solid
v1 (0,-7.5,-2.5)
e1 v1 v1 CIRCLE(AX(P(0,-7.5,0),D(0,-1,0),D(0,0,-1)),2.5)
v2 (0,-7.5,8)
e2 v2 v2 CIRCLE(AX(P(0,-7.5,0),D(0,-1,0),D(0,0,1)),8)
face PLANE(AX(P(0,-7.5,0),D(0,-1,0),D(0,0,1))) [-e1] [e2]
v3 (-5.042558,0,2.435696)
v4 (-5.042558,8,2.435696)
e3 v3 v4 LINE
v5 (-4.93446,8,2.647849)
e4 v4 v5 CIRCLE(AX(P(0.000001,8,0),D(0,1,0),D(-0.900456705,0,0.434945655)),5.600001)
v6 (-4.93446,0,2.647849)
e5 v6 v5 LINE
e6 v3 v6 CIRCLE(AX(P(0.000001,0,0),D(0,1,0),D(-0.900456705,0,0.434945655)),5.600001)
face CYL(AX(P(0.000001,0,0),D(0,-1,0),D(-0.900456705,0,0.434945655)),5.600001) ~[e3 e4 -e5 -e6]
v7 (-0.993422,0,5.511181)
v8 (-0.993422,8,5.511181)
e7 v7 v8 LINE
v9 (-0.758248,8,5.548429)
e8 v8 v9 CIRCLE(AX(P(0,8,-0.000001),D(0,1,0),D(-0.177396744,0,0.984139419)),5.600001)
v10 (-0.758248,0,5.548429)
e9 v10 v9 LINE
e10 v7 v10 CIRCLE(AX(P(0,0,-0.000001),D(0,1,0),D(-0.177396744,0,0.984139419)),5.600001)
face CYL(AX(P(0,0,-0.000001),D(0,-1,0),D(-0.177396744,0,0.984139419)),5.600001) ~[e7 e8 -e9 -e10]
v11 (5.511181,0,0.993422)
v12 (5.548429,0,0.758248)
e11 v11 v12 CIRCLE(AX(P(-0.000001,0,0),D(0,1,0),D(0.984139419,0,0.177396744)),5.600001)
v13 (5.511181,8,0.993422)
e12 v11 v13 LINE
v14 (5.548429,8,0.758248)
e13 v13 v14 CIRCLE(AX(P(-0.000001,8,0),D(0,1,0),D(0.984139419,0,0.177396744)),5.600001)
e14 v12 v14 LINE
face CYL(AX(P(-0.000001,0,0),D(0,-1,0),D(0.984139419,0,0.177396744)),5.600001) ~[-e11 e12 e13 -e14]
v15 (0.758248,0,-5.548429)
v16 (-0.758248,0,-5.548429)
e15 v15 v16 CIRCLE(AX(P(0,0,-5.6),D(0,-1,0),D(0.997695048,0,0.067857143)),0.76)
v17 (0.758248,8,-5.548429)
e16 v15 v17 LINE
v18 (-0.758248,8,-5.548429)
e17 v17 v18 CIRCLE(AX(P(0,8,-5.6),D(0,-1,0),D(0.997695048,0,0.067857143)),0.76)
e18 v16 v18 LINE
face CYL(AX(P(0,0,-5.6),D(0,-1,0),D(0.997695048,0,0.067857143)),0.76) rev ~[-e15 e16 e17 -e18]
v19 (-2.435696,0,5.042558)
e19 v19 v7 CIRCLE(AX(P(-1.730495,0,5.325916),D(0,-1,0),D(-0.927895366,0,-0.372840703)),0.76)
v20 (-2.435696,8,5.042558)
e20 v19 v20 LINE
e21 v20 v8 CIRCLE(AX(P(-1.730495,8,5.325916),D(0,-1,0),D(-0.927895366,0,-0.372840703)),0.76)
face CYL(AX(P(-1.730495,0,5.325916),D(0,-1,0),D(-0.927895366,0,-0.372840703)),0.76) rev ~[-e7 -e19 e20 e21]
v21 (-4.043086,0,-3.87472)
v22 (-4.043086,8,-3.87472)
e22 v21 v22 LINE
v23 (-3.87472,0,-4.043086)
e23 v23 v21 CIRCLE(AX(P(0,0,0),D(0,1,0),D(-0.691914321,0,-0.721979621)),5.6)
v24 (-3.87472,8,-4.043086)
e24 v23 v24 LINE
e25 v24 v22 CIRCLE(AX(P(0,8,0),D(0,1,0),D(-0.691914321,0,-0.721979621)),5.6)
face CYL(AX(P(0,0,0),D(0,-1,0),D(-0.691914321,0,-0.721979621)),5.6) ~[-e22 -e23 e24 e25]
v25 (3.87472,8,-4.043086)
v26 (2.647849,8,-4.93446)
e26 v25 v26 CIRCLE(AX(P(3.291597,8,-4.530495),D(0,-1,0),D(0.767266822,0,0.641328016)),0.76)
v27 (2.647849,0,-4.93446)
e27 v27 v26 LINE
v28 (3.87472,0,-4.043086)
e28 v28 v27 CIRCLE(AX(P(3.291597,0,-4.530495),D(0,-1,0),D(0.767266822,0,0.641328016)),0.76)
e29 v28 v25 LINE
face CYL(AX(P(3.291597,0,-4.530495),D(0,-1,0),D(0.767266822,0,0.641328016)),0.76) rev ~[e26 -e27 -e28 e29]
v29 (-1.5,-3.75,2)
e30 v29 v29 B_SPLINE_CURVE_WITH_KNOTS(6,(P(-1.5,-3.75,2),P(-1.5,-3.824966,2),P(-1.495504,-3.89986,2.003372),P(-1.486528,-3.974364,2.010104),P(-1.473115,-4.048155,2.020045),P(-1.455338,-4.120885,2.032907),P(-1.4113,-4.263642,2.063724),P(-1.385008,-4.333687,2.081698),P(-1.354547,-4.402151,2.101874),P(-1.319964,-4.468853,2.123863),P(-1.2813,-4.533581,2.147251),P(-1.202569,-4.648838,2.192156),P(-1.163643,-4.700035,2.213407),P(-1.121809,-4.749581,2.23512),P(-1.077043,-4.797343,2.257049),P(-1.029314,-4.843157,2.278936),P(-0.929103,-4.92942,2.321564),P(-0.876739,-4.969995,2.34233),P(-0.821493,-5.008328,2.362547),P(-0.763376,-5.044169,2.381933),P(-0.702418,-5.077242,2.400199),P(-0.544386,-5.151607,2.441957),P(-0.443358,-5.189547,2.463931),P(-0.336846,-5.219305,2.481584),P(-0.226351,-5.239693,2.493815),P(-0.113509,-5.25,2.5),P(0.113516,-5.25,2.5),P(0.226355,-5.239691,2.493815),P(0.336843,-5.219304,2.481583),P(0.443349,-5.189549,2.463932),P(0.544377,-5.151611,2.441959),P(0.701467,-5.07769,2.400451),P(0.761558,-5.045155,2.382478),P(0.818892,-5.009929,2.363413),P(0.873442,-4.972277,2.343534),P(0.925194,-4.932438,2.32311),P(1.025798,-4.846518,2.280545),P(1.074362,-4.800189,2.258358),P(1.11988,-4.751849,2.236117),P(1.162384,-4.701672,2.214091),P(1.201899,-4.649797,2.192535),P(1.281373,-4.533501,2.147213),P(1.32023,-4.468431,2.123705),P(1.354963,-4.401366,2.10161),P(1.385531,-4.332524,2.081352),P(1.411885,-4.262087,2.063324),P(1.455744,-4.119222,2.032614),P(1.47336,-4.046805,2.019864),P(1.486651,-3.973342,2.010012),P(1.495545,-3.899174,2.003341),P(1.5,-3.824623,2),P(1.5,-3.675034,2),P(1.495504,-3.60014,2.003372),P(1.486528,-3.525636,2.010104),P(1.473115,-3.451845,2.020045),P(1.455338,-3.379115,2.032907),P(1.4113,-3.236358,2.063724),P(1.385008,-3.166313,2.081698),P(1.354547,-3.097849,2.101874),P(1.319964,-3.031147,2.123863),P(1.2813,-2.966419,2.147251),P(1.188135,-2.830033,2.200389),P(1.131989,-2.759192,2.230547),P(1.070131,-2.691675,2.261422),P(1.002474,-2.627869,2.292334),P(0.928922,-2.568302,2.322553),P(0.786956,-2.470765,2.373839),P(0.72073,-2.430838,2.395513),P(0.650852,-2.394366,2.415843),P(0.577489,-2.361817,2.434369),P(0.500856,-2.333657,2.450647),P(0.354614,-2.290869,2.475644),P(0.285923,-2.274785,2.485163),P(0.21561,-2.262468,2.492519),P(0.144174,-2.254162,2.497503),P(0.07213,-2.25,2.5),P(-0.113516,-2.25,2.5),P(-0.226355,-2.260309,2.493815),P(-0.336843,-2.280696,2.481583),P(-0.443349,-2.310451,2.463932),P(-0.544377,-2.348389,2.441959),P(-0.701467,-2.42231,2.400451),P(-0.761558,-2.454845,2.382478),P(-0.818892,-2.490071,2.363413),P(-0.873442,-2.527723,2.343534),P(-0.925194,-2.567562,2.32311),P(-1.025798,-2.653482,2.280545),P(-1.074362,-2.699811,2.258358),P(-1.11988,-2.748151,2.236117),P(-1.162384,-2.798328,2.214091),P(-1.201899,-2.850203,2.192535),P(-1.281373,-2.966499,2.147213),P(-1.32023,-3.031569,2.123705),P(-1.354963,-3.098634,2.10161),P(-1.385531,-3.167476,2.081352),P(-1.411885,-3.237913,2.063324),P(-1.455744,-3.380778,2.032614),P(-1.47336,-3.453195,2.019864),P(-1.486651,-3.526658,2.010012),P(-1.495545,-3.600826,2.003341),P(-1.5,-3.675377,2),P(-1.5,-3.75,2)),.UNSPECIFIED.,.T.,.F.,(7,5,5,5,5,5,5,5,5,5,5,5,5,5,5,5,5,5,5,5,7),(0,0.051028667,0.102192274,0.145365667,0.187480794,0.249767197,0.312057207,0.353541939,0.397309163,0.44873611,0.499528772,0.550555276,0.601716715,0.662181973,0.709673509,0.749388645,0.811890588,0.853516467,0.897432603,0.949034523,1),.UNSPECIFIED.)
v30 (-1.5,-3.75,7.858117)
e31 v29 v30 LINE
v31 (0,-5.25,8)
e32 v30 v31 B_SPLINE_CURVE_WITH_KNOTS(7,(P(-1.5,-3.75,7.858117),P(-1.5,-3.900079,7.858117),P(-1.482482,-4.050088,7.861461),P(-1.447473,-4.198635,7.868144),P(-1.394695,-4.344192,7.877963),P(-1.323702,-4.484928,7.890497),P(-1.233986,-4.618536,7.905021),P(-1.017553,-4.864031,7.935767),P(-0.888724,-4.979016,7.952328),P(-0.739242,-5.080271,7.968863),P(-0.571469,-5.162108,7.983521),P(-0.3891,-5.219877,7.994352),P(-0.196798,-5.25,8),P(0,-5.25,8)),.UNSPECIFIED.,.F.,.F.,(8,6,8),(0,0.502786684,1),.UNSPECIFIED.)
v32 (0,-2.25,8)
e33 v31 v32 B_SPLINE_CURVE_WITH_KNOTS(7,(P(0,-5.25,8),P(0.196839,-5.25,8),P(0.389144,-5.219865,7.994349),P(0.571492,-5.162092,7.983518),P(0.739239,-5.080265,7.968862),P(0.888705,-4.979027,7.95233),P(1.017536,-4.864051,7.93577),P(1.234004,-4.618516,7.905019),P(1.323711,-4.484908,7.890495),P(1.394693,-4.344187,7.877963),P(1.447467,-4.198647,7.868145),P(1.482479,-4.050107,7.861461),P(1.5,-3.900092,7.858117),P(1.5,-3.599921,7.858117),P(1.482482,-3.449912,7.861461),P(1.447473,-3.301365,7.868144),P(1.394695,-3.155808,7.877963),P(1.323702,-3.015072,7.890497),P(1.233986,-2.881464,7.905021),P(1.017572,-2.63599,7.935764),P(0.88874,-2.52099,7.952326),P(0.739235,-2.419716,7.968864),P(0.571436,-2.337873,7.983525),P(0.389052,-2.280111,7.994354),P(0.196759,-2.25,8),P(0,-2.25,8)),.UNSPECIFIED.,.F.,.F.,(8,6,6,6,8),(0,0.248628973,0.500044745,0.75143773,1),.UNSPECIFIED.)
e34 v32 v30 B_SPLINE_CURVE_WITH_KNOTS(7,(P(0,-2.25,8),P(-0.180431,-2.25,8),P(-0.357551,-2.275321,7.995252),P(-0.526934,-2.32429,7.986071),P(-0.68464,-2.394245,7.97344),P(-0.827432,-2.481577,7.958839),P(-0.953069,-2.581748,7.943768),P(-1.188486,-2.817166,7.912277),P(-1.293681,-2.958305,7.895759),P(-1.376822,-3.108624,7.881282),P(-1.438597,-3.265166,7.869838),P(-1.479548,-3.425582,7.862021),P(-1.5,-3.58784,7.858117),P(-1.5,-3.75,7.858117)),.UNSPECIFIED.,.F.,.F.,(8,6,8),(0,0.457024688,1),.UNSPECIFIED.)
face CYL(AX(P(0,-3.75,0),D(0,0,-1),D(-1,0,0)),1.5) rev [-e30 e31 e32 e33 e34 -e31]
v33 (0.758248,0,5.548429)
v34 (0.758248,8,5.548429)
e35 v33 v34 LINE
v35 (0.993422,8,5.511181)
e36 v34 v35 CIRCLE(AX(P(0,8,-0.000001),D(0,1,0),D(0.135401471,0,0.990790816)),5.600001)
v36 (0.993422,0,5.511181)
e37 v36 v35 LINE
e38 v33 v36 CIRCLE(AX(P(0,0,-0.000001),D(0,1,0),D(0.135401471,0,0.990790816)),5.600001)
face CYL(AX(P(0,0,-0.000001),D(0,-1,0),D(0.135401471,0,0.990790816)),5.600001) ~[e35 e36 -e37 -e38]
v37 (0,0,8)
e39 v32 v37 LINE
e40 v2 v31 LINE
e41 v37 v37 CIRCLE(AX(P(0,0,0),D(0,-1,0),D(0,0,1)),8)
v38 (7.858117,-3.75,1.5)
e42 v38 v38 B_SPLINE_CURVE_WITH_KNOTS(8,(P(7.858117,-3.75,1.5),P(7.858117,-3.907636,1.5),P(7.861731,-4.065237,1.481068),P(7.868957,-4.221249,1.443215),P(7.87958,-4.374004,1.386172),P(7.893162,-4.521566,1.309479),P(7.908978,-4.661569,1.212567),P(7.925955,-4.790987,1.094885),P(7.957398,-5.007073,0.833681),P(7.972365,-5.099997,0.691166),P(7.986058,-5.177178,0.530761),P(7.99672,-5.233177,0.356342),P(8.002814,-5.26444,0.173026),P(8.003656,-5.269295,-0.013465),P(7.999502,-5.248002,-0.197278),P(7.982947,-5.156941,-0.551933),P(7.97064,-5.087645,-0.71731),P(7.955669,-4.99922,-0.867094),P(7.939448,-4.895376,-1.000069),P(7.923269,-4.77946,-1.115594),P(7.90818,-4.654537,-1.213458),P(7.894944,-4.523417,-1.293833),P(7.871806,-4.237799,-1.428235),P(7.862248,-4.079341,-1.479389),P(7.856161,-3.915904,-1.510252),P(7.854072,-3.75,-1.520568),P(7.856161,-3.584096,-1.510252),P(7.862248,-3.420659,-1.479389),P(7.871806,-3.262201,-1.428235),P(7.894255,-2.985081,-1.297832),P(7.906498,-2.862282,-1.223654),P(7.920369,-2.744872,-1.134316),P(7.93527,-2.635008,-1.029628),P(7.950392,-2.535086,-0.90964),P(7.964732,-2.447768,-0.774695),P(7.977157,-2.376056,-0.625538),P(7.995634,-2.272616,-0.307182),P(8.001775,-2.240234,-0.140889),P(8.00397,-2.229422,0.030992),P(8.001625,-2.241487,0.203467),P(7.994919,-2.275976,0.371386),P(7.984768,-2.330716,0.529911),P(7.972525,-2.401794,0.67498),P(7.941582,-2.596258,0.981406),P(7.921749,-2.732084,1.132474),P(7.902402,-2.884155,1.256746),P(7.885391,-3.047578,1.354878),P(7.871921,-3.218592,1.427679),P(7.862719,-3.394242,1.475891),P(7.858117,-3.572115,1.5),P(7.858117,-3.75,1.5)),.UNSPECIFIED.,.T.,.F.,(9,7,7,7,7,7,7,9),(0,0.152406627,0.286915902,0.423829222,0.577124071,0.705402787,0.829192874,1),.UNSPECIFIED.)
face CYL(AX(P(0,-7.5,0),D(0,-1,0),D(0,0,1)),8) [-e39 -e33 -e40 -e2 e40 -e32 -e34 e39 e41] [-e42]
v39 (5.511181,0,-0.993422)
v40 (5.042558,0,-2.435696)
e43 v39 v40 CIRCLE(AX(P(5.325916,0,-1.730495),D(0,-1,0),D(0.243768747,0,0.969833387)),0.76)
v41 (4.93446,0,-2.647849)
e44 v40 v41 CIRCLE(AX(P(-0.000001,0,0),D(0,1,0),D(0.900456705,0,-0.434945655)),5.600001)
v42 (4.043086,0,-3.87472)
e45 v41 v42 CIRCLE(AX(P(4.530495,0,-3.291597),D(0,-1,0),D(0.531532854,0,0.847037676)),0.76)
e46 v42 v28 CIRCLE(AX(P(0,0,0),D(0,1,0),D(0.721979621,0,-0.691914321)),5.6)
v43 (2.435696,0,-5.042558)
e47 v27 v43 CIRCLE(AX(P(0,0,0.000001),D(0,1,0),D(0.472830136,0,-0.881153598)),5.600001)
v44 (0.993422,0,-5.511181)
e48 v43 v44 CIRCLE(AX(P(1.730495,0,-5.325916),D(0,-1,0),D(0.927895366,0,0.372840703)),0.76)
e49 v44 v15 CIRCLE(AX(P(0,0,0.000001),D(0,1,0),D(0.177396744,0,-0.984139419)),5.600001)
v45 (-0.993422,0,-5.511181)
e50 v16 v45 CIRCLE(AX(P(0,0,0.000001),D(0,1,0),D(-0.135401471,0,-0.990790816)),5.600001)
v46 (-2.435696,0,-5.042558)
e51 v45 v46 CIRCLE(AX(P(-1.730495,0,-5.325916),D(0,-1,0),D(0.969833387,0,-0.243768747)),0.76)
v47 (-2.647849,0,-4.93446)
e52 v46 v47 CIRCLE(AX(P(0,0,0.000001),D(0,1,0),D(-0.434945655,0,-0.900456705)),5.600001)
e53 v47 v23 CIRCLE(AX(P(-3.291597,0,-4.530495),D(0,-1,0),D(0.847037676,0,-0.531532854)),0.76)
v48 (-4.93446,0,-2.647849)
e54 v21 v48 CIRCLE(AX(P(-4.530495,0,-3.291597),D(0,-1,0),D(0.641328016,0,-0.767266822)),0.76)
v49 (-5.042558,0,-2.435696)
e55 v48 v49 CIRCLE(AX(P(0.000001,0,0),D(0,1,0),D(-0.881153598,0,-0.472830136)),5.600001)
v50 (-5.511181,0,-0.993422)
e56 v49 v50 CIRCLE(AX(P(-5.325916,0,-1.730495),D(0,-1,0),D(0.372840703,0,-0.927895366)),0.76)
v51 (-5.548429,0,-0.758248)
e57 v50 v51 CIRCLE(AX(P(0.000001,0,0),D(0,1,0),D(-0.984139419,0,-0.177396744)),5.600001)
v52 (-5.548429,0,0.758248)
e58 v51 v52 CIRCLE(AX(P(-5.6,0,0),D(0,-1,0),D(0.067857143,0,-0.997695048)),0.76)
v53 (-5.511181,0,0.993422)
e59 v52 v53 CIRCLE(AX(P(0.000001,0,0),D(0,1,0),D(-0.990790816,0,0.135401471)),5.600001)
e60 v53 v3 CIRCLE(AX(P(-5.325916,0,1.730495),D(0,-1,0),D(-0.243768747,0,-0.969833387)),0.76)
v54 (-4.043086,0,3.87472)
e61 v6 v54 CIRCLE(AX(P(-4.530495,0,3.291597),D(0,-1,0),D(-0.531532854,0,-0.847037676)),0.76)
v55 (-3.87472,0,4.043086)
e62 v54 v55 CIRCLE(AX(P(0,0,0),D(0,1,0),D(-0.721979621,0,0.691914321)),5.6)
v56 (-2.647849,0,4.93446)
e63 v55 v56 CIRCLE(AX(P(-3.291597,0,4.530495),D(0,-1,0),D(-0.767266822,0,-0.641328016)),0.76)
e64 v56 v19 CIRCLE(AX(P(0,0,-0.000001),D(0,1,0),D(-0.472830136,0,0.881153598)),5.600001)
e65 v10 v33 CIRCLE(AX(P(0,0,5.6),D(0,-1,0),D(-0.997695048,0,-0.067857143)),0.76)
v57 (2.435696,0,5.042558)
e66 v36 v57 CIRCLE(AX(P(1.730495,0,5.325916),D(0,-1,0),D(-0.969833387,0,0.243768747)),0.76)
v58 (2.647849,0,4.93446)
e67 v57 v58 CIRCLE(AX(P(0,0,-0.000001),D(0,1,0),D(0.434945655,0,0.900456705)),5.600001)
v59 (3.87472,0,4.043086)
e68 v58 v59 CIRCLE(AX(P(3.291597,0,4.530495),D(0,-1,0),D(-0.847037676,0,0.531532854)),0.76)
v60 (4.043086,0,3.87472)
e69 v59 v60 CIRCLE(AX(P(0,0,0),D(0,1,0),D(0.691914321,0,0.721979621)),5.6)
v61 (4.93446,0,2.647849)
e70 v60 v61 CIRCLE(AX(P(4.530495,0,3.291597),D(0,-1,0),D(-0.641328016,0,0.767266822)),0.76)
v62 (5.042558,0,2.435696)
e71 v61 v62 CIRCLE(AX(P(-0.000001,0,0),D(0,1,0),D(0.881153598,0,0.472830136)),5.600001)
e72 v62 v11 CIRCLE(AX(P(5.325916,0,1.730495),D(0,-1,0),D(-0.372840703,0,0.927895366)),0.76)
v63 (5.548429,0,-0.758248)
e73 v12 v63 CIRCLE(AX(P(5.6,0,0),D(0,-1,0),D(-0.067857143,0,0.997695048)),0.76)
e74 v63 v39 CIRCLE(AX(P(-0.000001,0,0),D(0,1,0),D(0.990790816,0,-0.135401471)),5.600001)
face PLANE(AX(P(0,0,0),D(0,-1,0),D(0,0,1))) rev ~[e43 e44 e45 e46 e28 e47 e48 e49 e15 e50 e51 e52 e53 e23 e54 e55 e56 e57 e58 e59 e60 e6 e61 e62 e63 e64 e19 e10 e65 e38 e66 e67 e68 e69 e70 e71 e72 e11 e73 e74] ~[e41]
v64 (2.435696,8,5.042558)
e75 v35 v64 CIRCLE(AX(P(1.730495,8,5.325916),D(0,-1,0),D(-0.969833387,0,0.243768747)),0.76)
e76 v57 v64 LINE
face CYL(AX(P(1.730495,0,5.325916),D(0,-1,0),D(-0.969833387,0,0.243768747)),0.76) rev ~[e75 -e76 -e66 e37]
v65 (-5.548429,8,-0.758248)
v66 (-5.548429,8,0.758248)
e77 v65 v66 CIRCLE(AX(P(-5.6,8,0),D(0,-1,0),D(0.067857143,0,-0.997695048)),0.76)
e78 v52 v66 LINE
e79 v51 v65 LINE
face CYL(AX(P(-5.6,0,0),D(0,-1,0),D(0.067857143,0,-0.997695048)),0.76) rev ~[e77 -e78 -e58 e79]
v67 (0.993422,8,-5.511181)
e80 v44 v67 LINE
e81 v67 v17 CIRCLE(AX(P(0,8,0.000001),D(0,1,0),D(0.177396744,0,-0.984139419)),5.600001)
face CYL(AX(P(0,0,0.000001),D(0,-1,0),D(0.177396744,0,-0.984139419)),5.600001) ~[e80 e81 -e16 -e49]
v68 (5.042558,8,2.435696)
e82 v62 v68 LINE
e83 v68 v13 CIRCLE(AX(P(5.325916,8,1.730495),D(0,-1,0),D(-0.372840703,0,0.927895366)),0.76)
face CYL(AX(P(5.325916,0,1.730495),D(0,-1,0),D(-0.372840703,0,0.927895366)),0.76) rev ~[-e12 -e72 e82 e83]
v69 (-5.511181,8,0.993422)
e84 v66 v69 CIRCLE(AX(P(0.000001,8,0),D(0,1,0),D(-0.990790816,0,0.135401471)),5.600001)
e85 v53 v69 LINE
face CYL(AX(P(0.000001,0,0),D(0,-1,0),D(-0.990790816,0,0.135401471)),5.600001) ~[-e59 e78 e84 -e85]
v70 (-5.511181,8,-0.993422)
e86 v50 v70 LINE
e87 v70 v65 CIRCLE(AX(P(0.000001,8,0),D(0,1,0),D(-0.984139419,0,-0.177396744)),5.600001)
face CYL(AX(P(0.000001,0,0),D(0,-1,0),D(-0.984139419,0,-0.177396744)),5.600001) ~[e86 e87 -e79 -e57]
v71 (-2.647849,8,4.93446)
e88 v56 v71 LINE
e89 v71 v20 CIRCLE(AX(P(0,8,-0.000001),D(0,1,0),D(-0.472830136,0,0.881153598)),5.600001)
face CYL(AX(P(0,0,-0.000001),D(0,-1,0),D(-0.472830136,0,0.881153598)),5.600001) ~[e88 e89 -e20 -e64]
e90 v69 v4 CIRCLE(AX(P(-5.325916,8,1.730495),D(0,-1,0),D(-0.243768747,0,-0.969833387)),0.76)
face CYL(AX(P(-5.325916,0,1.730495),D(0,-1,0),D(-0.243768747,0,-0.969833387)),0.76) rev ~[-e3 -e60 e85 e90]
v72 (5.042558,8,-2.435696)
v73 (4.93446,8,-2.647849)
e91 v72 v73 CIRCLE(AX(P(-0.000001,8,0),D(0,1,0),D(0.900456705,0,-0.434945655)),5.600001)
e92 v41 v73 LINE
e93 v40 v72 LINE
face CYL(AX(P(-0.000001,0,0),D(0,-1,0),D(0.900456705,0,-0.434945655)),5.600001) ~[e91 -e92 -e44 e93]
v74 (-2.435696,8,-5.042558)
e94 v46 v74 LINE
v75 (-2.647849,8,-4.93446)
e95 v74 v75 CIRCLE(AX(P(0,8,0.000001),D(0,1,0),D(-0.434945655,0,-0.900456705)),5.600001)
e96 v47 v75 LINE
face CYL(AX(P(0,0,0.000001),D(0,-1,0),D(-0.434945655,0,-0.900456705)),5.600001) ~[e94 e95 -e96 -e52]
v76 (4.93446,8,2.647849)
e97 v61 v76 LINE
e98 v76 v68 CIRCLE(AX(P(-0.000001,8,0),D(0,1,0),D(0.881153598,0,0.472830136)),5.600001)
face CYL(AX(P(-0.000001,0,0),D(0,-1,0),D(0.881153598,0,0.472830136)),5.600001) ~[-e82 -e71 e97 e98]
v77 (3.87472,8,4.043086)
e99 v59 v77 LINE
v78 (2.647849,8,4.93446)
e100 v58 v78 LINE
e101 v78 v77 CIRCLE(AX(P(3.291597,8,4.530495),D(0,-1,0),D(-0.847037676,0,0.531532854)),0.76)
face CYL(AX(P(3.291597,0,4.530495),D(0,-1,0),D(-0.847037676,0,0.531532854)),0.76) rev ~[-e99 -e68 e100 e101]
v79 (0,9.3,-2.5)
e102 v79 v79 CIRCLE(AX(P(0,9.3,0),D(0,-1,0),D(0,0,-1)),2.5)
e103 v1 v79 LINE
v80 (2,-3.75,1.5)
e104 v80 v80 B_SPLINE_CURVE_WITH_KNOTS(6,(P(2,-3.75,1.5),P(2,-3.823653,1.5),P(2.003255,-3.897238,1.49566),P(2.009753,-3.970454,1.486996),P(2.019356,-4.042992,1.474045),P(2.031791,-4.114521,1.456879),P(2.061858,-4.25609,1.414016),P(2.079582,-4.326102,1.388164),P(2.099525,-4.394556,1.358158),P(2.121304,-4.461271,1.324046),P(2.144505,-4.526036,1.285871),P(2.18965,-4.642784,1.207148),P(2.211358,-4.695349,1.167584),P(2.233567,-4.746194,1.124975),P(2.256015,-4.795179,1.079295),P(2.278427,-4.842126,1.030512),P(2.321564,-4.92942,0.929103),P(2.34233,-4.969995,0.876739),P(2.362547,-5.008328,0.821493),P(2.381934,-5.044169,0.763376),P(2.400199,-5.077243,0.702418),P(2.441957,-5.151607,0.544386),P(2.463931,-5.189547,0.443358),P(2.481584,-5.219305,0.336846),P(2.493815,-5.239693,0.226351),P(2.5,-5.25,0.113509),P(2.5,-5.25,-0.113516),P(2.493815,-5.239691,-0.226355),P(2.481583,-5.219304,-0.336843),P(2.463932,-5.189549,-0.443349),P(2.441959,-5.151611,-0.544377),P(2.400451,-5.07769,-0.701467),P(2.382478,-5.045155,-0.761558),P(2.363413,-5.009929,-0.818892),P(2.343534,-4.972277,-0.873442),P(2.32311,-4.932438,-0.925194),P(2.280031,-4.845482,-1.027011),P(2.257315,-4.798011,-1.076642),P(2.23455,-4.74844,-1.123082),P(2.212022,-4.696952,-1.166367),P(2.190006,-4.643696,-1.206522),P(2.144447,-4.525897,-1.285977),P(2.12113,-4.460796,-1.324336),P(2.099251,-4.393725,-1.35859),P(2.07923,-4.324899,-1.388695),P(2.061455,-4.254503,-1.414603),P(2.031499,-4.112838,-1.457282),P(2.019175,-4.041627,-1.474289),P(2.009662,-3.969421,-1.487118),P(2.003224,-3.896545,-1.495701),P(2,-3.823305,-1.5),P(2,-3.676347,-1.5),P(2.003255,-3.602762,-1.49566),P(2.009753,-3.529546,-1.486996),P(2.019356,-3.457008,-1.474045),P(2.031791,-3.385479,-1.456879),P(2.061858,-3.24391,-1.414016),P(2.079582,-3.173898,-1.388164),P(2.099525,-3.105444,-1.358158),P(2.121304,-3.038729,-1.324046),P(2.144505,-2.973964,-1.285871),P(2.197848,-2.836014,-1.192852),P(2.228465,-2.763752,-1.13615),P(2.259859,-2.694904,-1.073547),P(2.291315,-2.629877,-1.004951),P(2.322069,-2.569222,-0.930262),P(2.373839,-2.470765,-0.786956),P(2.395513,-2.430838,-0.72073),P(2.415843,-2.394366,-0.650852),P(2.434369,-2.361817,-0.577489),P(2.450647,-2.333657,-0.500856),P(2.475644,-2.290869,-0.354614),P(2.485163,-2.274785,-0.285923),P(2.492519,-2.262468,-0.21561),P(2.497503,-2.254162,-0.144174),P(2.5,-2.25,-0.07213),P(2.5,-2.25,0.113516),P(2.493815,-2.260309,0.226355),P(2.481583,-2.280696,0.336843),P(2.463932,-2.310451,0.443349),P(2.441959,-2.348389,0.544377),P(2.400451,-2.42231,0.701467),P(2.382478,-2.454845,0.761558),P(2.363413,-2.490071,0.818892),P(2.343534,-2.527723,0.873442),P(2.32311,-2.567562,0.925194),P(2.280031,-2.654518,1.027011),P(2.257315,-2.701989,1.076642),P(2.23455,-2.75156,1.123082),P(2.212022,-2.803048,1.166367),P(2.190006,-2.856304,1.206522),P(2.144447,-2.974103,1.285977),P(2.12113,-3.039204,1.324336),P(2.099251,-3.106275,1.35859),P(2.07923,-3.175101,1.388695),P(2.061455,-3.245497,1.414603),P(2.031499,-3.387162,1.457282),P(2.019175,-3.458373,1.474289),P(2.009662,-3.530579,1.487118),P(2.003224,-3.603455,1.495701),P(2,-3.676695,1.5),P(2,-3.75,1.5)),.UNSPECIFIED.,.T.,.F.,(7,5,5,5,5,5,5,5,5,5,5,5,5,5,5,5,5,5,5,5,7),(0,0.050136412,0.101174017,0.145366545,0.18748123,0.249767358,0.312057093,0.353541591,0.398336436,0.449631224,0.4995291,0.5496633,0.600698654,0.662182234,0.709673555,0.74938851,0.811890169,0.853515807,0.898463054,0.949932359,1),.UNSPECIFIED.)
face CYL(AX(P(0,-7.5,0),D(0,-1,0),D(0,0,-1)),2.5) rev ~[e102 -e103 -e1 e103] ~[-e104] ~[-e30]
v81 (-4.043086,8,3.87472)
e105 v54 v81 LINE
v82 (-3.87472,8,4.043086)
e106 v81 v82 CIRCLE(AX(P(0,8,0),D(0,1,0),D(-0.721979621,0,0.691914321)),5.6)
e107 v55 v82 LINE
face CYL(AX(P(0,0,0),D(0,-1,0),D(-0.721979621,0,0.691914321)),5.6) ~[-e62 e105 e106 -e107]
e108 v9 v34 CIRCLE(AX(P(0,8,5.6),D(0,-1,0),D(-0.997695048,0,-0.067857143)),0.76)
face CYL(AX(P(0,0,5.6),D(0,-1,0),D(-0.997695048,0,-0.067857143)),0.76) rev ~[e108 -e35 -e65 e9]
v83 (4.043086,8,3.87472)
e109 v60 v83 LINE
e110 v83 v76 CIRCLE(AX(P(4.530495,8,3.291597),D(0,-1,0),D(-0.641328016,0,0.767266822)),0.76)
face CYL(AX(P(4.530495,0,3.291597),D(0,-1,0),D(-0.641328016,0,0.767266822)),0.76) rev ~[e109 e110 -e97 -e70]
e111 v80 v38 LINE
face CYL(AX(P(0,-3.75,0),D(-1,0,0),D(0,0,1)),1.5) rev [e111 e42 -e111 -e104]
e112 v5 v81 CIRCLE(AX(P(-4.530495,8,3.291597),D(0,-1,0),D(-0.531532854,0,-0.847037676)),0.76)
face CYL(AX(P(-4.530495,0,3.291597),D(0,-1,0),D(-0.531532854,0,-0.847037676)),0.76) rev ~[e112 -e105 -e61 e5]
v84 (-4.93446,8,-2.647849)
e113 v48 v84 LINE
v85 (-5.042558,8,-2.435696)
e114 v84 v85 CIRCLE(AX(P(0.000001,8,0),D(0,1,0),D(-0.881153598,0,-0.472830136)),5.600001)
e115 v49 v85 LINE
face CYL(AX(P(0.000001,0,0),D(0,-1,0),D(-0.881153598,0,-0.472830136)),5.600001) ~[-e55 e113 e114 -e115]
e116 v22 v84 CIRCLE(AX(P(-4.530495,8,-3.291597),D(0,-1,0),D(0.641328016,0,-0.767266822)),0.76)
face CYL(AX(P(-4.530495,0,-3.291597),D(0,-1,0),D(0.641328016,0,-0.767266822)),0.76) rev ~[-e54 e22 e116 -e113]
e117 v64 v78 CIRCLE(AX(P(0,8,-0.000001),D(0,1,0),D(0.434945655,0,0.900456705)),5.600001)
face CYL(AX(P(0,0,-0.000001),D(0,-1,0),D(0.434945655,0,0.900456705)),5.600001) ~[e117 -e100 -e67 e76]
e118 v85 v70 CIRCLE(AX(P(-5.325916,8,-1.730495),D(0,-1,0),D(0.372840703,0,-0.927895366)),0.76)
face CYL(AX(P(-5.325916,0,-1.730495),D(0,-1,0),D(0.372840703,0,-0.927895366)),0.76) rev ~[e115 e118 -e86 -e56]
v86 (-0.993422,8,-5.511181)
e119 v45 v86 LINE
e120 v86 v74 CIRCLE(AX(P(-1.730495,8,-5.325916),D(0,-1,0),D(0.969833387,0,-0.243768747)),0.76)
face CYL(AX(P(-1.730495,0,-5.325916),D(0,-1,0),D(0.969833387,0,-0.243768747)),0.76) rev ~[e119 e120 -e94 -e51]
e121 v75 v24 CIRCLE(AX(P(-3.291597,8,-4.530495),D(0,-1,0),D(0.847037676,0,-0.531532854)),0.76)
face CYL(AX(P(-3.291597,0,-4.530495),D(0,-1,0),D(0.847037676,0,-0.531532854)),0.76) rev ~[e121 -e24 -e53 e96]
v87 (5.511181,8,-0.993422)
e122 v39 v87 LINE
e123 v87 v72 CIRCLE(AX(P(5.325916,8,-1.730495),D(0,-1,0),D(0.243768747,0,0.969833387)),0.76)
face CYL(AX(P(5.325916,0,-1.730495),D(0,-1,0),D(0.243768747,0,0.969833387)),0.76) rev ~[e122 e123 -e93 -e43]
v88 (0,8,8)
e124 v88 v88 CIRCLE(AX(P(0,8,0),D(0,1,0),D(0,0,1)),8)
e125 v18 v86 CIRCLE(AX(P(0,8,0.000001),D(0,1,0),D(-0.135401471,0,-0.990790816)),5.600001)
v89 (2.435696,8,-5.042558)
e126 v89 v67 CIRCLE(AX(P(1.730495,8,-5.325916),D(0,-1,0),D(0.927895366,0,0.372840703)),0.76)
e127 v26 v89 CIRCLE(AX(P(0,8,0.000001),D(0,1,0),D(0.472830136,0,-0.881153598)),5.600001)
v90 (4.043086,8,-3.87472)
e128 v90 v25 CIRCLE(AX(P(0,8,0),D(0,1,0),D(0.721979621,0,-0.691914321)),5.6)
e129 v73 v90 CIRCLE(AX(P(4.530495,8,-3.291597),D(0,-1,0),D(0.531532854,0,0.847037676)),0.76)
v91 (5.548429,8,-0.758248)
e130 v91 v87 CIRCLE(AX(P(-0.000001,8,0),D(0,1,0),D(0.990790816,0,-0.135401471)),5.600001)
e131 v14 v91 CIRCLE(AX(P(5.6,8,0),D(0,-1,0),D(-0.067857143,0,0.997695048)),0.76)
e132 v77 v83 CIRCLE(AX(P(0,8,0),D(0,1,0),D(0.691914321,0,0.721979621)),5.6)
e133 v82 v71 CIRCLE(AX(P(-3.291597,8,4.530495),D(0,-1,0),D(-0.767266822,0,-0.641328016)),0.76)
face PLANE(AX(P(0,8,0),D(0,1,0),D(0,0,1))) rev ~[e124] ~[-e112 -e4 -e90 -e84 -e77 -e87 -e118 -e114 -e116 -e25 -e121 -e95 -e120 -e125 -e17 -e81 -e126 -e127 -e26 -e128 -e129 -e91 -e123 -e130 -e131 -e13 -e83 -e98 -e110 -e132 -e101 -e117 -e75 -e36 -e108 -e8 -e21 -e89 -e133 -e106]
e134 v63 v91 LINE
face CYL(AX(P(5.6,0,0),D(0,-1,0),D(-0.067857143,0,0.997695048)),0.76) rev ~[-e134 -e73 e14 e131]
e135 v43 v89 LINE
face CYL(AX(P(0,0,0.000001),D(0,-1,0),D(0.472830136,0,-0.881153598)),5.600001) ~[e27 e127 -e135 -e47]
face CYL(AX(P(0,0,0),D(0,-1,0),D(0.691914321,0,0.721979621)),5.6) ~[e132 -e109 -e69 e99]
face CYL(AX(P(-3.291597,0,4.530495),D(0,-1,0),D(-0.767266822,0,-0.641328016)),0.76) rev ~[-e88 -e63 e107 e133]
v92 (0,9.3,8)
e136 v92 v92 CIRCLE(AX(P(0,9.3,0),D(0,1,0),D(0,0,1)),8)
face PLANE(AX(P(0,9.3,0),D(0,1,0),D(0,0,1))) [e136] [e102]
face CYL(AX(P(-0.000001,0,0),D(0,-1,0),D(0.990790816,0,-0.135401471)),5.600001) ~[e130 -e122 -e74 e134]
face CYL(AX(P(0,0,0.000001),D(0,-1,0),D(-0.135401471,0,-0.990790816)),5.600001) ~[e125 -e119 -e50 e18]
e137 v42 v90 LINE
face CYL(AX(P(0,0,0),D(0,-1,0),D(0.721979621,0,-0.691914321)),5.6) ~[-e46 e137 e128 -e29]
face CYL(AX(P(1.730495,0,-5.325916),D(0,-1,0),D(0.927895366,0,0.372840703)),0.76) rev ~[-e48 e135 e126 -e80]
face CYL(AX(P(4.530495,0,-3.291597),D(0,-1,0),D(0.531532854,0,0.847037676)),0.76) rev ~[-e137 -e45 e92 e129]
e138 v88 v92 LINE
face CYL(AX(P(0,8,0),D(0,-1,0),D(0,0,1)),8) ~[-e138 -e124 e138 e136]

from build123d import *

# Parameters (mm, degrees)
BOSS_EXTRUDE1_DEPTH = 8
SKETCH2_R           = 8
BOSS_EXTRUDE2_DEPTH = 1.3
BOSS_EXTRUDE3_START = 7.5
SKETCH3_R           = 8
BOSS_EXTRUDE3_DEPTH = 7.5
SKETCH4_R           = 2.5
CUT_EXTRUDE1_DEPTH  = 18.5
SKETCH5_R           = 1.5
CUT_EXTRUDE2_DEPTH  = 10.5
SKETCH6_R           = 1.5
CUT_EXTRUDE3_DEPTH  = 16.5


with BuildPart() as part:
    # Sketch1 → Boss-Extrude1 (new body)
    with BuildSketch(Plane(origin=(0, 0, 0), x_dir=(1, 0, 0), z_dir=(0, 1, 0))):
        with BuildLine():
            ThreePointArc((-2.435695647, 5.042557557), (-2.542346799, 4.989636535), (-2.647848779, 4.934460137))
            ThreePointArc((-2.647848779, 4.934460137), (-2.844880621, 3.915642253), (-3.874720197, 4.043085876))
            ThreePointArc((-3.874720197, 4.043085876), (-3.959797975, 3.959797975), (-4.043085876, 3.874720197))
            ThreePointArc((-4.043085876, 3.874720197), (-3.915642253, 2.844880621), (-4.934460137, 2.647848779))
            ThreePointArc((-4.934460137, 2.647848779), (-4.989636535, 2.542346799), (-5.042557557, 2.435695647))
            ThreePointArc((-5.042557557, 2.435695647), (-4.603113539, 1.495642253), (-5.511180739, 0.993421795))
            ThreePointArc((-5.511180739, 0.993421795), (-5.531054707, 0.876033004), (-5.548428571, 0.758248236))
            ThreePointArc((-5.548428571, 0.758248236), (-4.84, 0), (-5.548428571, -0.758248236))
            ThreePointArc((-5.548428571, -0.758248236), (-5.531054707, -0.876033004), (-5.511180739, -0.993421795))
            ThreePointArc((-5.511180739, -0.993421795), (-4.603113539, -1.495642253), (-5.042557557, -2.435695647))
            ThreePointArc((-5.042557557, -2.435695647), (-4.989636535, -2.542346799), (-4.934460137, -2.647848779))
            ThreePointArc((-4.934460137, -2.647848779), (-3.915642253, -2.844880621), (-4.043085876, -3.874720197))
            ThreePointArc((-4.043085876, -3.874720197), (-3.959797975, -3.959797975), (-3.874720197, -4.043085876))
            ThreePointArc((-3.874720197, -4.043085876), (-2.844880621, -3.915642253), (-2.647848779, -4.934460137))
            ThreePointArc((-2.647848779, -4.934460137), (-2.542346799, -4.989636535), (-2.435695647, -5.042557557))
            ThreePointArc((-2.435695647, -5.042557557), (-1.495642253, -4.603113539), (-0.993421795, -5.511180739))
            ThreePointArc((-0.993421795, -5.511180739), (-0.876033004, -5.531054707), (-0.758248236, -5.548428571))
            ThreePointArc((-0.758248236, -5.548428571), (0, -4.84), (0.758248236, -5.548428571))
            ThreePointArc((0.758248236, -5.548428571), (0.876033004, -5.531054707), (0.993421795, -5.511180739))
            ThreePointArc((0.993421795, -5.511180739), (1.495642253, -4.603113539), (2.435695647, -5.042557557))
            ThreePointArc((2.435695647, -5.042557557), (2.542346799, -4.989636535), (2.647848779, -4.934460137))
            ThreePointArc((2.647848779, -4.934460137), (2.844880621, -3.915642253), (3.874720197, -4.043085876))
            ThreePointArc((3.874720197, -4.043085876), (3.959797975, -3.959797975), (4.043085876, -3.874720197))
            ThreePointArc((4.043085876, -3.874720197), (3.915642253, -2.844880621), (4.934460137, -2.647848779))
            ThreePointArc((4.934460137, -2.647848779), (4.989636535, -2.542346799), (5.042557557, -2.435695647))
            ThreePointArc((5.042557557, -2.435695647), (4.603113539, -1.495642253), (5.511180739, -0.993421795))
            ThreePointArc((5.511180739, -0.993421795), (5.531054707, -0.876033004), (5.548428571, -0.758248236))
            ThreePointArc((5.548428571, -0.758248236), (4.84, 0), (5.548428571, 0.758248236))
            ThreePointArc((5.548428571, 0.758248236), (5.531054707, 0.876033004), (5.511180739, 0.993421795))
            ThreePointArc((5.511180739, 0.993421795), (4.603113539, 1.495642253), (5.042557557, 2.435695647))
            ThreePointArc((5.042557557, 2.435695647), (4.989636535, 2.542346799), (4.934460137, 2.647848779))
            ThreePointArc((4.934460137, 2.647848779), (3.915642253, 2.844880621), (4.043085876, 3.874720197))
            ThreePointArc((4.043085876, 3.874720197), (3.959797975, 3.959797975), (3.874720197, 4.043085876))
            ThreePointArc((3.874720197, 4.043085876), (2.844880621, 3.915642253), (2.647848779, 4.934460137))
            ThreePointArc((2.647848779, 4.934460137), (2.542346799, 4.989636535), (2.435695647, 5.042557557))
            ThreePointArc((2.435695647, 5.042557557), (1.495642253, 4.603113539), (0.993421795, 5.511180739))
            ThreePointArc((0.993421795, 5.511180739), (0.876033004, 5.531054707), (0.758248236, 5.548428571))
            ThreePointArc((0.758248236, 5.548428571), (0, 4.84), (-0.758248236, 5.548428571))
            ThreePointArc((-0.758248236, 5.548428571), (-0.876033004, 5.531054707), (-0.993421795, 5.511180739))
            ThreePointArc((-0.993421795, 5.511180739), (-1.495642253, 4.603113539), (-2.435695647, 5.042557557))
        make_face()
    extrude(amount=BOSS_EXTRUDE1_DEPTH)

    # Sketch2 → Boss-Extrude2 (add)
    with BuildSketch(Plane(origin=(0, 8, 0), x_dir=(1, 0, 0), z_dir=(0, 1, 0))):
        with Locations(Location((0, 0, 0), (0, 0, 270))):
            Circle(SKETCH2_R)
    extrude(amount=BOSS_EXTRUDE2_DEPTH)

    # Sketch3 → Boss-Extrude3 (add)
    with BuildSketch(Plane.XZ.offset(BOSS_EXTRUDE3_START)):
        with Locations(Location((0, 0, 0), (0, 0, 90))):
            Circle(SKETCH3_R)
    extrude(amount=-BOSS_EXTRUDE3_DEPTH)

    # Sketch4 → Cut-Extrude1 (cut)
    with BuildSketch(Plane.XZ.offset(7.5)):
        with Locations(Location((0, 0, 0), (0, 0, 270))):
            Circle(SKETCH4_R)
    extrude(amount=-CUT_EXTRUDE1_DEPTH, mode=Mode.SUBTRACT)

    # Sketch5 → Cut-Extrude2 (cut)
    with BuildSketch(Plane(origin=(0, 0, 0), x_dir=(0, 0, -1), z_dir=(1, 0, 0))):
        with Locations(Location((0, -3.75, 0), (0, 0, 180))):
            Circle(SKETCH5_R)
    extrude(amount=CUT_EXTRUDE2_DEPTH, mode=Mode.SUBTRACT)

    # Sketch6 → Cut-Extrude3 (cut)
    with BuildSketch(Plane.XY):
        with Locations(Location((0, -3.75, 0), (0, 0, 180))):
            Circle(SKETCH6_R)
    extrude(amount=CUT_EXTRUDE3_DEPTH, mode=Mode.SUBTRACT)


solid = part.part
